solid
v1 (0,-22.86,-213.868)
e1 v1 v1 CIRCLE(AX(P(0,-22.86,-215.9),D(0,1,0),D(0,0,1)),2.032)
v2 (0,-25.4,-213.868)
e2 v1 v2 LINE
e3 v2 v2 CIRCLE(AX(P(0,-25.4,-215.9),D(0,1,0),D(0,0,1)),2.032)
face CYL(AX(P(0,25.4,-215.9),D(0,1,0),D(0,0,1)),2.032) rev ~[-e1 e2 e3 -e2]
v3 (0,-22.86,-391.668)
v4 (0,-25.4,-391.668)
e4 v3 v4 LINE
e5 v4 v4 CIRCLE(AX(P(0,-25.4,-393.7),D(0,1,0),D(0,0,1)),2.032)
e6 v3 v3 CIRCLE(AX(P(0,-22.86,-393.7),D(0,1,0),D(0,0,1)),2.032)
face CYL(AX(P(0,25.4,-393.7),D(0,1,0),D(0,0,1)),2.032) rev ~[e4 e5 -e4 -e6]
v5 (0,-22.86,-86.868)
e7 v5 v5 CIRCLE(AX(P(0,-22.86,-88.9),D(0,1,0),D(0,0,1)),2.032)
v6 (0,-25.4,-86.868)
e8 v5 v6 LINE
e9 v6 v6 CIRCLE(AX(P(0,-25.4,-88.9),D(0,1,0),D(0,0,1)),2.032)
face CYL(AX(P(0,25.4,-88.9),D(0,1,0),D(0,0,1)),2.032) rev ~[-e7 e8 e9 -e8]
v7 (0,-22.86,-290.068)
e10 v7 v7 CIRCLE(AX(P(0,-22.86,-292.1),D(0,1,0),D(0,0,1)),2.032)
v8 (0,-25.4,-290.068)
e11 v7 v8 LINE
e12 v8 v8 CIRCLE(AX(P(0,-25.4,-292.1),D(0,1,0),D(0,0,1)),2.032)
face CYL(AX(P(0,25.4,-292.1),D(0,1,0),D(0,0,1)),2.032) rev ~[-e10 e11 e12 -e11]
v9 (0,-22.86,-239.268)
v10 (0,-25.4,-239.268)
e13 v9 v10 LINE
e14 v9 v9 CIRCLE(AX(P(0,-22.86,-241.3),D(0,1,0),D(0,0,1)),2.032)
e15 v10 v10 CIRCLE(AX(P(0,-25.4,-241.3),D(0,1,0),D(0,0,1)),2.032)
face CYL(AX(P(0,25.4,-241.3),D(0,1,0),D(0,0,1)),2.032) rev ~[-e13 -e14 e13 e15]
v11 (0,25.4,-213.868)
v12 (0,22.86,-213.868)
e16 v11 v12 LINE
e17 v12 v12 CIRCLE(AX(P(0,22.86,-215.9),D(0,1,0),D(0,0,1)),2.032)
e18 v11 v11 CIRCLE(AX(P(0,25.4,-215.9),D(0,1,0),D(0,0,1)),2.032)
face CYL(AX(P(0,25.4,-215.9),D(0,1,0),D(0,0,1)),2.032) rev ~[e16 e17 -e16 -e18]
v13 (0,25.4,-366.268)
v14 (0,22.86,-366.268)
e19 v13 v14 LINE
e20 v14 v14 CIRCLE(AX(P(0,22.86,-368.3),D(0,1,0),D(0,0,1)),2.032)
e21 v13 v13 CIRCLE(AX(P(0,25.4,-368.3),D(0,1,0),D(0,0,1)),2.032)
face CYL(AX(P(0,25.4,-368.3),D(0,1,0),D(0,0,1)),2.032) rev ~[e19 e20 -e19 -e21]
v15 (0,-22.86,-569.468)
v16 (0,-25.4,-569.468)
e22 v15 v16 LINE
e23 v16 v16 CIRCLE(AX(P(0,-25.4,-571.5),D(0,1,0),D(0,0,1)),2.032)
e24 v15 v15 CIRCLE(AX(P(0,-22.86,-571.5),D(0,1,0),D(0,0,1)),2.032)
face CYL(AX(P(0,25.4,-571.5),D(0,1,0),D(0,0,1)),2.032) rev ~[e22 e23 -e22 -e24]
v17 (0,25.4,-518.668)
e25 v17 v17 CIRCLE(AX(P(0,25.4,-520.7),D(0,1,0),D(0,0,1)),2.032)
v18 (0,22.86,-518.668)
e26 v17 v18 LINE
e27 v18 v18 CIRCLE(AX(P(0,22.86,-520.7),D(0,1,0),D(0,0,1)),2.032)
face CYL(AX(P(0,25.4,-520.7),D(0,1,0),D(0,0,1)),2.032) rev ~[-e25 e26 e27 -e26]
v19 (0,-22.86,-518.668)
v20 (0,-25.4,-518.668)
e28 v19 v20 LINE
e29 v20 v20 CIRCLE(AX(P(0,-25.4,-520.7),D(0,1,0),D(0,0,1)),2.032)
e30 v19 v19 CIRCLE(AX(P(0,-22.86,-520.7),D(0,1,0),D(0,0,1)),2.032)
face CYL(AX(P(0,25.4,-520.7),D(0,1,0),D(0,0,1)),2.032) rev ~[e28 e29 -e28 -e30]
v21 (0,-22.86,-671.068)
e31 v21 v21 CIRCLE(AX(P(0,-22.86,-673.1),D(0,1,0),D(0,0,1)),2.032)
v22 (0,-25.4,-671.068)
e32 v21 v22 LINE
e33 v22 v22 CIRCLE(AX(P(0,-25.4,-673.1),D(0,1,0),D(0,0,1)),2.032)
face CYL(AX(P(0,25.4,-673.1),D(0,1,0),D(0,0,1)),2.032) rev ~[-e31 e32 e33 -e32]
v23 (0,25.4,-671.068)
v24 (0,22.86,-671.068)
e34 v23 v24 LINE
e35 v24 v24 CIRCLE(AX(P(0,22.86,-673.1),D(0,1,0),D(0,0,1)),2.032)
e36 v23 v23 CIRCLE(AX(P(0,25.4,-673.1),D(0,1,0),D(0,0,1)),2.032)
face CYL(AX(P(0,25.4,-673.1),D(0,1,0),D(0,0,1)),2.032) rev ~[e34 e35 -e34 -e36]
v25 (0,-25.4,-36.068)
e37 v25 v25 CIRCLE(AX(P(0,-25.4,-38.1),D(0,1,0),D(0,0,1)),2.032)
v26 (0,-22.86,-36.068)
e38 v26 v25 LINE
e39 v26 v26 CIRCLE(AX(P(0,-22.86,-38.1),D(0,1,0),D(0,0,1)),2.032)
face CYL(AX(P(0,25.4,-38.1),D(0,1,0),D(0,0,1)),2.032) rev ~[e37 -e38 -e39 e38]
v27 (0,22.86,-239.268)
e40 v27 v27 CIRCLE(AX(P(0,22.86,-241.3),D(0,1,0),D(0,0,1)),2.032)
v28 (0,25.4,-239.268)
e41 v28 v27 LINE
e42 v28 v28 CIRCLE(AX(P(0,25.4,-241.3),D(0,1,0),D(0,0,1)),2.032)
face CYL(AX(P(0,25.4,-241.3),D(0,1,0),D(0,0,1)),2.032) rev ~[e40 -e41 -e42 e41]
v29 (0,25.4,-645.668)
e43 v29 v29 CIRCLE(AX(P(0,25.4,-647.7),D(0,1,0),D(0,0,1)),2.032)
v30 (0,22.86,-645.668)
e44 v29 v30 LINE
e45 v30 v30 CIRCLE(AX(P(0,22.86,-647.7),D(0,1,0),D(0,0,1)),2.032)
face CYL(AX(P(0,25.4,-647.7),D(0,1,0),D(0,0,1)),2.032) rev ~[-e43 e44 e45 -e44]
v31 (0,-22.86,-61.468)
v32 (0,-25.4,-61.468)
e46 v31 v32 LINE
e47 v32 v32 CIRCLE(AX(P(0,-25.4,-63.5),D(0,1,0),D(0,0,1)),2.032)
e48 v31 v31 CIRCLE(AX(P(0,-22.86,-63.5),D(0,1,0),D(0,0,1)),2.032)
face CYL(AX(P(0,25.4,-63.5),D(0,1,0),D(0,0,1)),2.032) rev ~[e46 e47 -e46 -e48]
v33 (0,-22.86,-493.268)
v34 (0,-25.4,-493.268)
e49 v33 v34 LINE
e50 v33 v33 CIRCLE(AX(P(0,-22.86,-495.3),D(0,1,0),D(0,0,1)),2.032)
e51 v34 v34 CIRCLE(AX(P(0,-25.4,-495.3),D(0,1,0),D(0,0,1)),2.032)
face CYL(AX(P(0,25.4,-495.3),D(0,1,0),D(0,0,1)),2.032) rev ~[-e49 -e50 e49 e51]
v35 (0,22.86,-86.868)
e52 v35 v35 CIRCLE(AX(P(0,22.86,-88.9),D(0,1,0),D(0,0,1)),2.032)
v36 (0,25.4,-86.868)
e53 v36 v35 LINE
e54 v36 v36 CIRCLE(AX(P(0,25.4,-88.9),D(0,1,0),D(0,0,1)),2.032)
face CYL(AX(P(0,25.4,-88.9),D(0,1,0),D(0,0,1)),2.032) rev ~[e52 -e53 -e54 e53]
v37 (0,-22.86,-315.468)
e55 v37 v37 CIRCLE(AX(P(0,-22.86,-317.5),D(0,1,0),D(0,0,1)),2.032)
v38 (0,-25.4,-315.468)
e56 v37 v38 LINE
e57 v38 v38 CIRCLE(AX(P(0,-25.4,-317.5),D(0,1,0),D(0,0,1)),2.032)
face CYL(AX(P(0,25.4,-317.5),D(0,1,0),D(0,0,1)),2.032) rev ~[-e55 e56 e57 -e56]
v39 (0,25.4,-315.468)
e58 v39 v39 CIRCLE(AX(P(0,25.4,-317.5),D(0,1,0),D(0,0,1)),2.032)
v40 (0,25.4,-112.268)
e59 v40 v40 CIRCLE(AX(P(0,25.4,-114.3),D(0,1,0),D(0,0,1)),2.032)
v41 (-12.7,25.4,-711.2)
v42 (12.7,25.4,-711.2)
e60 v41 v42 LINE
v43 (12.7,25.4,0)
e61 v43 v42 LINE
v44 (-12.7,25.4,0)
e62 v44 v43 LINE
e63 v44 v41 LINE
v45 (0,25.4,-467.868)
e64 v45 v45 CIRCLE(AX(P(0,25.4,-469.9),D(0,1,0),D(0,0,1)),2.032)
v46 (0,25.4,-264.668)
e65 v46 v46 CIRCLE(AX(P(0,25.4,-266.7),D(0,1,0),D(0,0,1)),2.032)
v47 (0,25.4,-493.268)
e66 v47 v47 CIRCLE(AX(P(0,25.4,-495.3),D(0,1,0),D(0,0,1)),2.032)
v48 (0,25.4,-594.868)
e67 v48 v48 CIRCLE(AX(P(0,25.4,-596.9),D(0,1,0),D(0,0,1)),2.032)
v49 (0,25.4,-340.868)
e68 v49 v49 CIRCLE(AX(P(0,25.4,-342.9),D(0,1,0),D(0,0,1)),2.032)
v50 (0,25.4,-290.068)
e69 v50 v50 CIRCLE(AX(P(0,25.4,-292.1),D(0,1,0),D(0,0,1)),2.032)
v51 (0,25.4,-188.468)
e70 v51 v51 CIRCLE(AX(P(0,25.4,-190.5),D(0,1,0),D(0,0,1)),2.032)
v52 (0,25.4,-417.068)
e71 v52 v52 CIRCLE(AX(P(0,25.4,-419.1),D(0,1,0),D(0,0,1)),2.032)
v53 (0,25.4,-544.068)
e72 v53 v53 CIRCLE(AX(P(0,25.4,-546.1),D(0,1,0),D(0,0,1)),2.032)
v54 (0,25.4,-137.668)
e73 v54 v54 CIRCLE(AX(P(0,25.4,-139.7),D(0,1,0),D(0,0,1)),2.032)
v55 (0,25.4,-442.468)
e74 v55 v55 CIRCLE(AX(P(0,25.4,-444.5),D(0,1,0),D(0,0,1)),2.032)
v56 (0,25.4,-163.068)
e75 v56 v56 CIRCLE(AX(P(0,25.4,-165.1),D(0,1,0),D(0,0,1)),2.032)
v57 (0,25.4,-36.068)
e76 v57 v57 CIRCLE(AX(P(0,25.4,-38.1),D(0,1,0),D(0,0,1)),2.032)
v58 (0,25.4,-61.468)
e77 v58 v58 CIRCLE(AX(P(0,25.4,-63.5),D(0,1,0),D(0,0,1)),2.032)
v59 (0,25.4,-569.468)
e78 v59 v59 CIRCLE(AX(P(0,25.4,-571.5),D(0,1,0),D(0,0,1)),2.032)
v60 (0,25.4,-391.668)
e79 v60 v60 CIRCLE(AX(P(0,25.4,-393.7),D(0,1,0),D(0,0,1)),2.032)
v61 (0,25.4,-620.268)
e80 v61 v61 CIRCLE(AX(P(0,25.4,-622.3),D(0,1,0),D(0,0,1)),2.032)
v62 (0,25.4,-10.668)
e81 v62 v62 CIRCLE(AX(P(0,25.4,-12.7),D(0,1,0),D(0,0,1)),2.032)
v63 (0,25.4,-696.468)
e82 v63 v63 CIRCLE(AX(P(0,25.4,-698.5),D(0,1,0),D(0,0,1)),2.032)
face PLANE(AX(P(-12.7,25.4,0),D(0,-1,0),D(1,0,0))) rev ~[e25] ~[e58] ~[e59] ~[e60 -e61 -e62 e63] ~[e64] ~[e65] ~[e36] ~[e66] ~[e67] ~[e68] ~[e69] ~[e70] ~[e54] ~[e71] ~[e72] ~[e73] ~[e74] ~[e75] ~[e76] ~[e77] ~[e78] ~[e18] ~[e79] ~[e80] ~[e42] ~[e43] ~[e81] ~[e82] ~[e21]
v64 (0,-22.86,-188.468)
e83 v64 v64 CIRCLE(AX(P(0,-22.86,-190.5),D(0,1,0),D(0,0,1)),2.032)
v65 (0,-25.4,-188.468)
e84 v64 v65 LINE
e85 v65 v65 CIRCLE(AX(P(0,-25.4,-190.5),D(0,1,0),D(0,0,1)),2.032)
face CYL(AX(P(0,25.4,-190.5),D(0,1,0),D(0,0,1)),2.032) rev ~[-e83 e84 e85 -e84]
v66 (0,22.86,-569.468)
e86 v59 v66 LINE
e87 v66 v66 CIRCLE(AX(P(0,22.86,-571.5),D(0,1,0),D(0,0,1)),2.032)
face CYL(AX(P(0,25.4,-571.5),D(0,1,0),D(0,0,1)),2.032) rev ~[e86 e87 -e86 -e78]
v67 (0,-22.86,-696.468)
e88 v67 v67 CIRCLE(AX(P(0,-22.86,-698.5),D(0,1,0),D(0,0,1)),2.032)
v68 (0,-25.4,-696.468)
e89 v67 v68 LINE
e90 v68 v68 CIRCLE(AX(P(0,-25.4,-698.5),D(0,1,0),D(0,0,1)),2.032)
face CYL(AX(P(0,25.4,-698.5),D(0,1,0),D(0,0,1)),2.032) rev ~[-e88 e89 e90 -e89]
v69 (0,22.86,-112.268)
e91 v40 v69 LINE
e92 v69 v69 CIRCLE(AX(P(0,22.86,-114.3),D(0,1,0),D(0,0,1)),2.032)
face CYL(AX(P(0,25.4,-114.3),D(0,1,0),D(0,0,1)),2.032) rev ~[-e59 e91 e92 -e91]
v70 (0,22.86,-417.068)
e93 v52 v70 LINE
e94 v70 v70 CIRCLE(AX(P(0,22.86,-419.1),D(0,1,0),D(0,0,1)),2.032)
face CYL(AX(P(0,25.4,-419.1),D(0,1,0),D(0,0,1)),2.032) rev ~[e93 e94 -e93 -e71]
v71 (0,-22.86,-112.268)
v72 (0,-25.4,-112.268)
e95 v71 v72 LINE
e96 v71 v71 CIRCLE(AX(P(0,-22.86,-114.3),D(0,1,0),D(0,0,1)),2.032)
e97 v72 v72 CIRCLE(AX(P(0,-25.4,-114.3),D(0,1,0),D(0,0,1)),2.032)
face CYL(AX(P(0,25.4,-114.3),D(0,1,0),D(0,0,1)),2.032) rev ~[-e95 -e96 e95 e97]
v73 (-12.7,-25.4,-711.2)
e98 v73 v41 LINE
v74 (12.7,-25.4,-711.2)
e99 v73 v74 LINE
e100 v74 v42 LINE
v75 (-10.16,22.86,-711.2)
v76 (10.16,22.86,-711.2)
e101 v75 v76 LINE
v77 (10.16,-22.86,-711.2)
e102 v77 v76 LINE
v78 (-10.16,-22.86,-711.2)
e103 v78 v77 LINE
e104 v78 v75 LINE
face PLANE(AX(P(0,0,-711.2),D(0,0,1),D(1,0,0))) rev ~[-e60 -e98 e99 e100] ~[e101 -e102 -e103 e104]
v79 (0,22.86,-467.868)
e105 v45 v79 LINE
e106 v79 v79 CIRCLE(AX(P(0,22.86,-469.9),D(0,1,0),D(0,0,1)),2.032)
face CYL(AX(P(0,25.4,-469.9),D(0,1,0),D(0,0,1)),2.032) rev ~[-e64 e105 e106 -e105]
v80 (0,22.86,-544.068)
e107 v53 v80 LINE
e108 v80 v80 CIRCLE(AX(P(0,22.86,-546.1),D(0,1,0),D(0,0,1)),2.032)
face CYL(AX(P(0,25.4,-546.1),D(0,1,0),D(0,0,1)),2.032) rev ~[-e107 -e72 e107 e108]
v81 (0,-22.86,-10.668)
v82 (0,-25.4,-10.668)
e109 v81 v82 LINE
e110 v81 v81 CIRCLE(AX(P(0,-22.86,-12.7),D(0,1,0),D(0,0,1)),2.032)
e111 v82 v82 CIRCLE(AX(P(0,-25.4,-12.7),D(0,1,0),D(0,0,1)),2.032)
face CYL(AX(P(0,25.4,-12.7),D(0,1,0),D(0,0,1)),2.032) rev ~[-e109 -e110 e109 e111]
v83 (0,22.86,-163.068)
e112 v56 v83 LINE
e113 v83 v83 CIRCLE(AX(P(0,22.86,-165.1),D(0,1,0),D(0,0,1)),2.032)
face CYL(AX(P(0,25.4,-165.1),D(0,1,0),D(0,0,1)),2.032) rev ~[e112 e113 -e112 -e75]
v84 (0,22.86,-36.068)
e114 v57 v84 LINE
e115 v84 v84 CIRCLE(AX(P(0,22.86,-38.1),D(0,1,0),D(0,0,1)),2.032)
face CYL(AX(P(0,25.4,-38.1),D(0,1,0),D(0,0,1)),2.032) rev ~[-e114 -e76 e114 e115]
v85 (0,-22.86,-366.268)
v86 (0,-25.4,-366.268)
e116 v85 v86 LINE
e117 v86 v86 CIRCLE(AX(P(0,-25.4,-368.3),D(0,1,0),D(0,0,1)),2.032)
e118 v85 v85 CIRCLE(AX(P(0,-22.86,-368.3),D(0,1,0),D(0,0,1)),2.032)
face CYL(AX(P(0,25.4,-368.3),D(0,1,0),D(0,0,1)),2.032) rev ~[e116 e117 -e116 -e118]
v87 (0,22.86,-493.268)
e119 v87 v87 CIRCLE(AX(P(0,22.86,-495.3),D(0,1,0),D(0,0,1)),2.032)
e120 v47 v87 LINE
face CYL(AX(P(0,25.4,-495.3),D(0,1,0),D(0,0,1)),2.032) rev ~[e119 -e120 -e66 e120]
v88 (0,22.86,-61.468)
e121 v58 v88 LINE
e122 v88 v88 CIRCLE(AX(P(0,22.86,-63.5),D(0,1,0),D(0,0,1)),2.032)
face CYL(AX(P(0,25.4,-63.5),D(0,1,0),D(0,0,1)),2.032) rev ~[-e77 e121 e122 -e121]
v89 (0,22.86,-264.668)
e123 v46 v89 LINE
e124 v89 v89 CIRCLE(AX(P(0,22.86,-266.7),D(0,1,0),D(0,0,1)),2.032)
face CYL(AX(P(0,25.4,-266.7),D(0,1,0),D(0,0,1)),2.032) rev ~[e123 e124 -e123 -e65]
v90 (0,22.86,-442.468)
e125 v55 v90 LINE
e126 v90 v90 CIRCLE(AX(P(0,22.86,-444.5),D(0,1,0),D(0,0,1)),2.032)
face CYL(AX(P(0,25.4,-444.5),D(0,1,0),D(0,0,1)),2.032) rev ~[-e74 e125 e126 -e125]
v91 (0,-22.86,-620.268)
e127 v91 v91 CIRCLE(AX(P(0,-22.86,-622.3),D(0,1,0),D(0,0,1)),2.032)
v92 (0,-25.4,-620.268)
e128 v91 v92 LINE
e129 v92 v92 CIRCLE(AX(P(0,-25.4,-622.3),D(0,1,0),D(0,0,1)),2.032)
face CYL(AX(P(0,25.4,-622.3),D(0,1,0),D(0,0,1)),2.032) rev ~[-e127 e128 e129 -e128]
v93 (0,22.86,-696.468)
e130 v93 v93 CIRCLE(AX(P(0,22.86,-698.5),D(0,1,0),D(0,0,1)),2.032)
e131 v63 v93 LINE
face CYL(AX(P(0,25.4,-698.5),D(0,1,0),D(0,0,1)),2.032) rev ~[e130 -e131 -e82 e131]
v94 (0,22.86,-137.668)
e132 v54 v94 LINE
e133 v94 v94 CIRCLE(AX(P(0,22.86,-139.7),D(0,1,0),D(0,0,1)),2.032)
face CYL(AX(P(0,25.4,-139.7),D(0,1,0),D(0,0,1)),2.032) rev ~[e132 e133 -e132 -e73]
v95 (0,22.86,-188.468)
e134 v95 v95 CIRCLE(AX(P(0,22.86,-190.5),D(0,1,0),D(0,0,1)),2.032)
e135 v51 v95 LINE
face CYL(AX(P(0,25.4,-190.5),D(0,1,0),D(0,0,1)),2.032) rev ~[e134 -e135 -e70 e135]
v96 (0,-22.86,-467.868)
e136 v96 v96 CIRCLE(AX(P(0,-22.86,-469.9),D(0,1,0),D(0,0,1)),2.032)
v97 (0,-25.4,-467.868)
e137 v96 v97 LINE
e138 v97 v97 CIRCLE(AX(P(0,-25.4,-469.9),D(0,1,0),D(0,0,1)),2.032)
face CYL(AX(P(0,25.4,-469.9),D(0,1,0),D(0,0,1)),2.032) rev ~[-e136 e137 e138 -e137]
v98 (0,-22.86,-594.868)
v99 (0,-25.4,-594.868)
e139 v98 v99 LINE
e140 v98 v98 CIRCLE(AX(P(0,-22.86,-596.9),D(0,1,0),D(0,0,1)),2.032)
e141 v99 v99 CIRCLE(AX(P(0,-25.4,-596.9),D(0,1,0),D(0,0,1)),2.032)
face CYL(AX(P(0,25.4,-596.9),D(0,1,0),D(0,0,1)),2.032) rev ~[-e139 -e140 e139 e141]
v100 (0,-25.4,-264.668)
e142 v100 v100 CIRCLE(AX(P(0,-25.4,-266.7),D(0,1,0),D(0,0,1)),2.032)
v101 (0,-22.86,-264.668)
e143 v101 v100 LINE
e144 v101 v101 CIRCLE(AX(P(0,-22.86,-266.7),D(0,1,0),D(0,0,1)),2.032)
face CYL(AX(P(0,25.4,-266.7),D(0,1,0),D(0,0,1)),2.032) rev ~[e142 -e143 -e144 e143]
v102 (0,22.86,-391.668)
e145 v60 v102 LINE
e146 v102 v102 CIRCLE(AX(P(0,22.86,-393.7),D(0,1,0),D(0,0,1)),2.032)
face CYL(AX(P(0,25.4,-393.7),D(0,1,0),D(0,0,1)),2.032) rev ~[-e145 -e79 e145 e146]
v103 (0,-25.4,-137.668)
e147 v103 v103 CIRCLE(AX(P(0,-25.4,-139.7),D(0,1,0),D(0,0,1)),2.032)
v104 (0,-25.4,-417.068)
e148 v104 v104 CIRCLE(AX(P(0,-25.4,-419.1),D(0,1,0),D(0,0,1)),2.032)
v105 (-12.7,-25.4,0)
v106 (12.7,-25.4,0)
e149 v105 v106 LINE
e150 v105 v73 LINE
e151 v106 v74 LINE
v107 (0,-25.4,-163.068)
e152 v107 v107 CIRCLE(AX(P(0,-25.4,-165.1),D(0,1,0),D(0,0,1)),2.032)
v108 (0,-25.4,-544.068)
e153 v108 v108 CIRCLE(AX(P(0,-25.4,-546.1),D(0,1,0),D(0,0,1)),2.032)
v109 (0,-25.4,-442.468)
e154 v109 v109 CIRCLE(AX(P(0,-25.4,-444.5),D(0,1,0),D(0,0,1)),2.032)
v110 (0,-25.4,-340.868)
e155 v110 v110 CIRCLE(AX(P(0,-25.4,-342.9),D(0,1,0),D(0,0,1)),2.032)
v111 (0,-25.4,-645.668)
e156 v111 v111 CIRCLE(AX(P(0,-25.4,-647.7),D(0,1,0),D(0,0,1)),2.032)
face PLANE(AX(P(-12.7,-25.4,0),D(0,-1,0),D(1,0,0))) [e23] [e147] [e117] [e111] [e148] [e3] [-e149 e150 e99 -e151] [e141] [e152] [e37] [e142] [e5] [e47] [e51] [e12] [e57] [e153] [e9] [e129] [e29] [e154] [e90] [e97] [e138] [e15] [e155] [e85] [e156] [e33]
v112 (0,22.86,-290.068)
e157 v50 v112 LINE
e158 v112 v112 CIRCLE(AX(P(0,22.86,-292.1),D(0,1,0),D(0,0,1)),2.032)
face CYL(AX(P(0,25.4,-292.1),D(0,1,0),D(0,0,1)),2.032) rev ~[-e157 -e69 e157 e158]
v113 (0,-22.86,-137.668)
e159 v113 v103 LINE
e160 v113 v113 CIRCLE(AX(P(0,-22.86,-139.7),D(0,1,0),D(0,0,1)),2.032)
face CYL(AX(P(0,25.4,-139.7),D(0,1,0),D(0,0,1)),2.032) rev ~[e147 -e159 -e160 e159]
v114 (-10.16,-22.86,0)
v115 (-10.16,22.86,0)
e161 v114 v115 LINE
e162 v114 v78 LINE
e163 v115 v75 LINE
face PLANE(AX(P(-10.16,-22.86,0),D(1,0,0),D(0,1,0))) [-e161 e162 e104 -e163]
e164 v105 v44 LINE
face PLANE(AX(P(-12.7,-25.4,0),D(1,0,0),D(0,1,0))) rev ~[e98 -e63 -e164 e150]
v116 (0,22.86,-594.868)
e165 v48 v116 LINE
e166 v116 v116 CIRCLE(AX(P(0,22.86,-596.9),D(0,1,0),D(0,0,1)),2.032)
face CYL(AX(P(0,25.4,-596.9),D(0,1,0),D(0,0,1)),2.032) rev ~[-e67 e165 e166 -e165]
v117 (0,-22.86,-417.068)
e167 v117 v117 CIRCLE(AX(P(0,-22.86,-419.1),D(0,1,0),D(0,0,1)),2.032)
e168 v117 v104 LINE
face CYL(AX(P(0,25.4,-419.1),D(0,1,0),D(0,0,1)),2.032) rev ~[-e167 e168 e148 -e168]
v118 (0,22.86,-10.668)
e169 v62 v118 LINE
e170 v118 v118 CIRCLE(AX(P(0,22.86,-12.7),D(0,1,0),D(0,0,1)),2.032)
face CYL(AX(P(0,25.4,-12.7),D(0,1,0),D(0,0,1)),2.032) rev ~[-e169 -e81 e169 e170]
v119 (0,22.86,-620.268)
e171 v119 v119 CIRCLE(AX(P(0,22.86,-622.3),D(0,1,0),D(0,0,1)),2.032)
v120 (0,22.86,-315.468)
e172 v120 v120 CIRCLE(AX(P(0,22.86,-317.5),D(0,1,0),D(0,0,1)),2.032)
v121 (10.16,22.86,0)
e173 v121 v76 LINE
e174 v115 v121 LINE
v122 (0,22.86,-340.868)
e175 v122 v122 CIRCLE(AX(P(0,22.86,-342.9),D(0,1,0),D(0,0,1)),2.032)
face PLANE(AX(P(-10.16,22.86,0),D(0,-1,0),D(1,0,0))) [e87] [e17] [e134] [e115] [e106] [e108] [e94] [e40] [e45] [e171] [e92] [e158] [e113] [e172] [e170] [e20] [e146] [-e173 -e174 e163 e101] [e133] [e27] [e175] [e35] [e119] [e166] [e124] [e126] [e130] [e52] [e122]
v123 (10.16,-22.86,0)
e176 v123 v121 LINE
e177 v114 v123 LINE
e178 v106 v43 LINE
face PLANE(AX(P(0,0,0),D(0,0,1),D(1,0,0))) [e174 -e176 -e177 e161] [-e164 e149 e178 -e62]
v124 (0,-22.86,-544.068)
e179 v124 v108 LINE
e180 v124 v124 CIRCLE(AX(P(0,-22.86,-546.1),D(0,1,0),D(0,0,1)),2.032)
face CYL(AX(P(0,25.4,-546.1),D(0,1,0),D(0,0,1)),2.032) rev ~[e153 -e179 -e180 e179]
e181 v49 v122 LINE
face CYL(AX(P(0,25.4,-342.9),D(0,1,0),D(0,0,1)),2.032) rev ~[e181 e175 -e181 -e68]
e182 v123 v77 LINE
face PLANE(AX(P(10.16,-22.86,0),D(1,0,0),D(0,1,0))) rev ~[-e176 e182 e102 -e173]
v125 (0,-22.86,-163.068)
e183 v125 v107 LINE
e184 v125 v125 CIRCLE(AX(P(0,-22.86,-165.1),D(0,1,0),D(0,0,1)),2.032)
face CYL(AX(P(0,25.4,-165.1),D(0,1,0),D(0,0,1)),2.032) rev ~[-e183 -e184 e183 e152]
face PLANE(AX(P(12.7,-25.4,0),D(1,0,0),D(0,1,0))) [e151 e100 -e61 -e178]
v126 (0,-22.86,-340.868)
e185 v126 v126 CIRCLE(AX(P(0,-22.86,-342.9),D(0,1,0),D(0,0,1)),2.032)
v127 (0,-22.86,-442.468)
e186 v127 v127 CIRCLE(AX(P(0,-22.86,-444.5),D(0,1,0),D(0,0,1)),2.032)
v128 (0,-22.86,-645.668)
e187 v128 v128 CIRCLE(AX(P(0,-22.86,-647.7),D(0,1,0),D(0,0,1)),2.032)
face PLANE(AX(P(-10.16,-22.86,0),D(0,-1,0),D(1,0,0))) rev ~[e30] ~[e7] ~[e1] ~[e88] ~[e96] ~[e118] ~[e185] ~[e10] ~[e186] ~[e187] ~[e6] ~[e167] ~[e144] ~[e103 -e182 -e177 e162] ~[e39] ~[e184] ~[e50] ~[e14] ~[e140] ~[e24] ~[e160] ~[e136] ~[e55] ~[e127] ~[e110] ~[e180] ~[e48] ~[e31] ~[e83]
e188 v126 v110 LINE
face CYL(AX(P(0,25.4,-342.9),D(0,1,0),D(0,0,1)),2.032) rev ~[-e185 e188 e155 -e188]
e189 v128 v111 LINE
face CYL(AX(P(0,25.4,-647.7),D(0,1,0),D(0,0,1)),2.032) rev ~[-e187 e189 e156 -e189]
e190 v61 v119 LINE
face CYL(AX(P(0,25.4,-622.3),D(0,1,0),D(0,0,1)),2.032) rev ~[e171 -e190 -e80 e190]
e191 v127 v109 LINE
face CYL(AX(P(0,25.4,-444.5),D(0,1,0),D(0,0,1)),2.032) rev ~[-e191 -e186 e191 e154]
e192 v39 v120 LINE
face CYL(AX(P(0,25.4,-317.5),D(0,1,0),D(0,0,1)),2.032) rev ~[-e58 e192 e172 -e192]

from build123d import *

# Parameters (mm, degrees)
SKETCH1_W           = 25.4
SKETCH1_H           = 50.8
SKETCH1_W_2         = 20.32
SKETCH1_H_2         = 45.72
BOSS_EXTRUDE1_DEPTH = 711.2
SKETCH2_R           = 2.032
CUT_EXTRUDE1_DEPTH  = 714.125073181


with BuildPart() as part:
    # Sketch1 → Boss-Extrude1 (new body)
    with BuildSketch(Plane.XY):
        Rectangle(SKETCH1_W, SKETCH1_H)
        Rectangle(SKETCH1_W_2, SKETCH1_H_2, mode=Mode.SUBTRACT)
    extrude(amount=-BOSS_EXTRUDE1_DEPTH)

    # Sketch2 → Cut-Extrude1 (cut, through all)
    with BuildSketch(Plane(origin=(0, 25.4, 0), x_dir=(1, 0, 0), z_dir=(0, 1, 0))):
        with Locations(Location((0, 12.7, 0), (0, 0, 270))):
            Circle(SKETCH2_R)
        with Locations(Location((0, 38.1, 0), (0, 0, 270))):
            Circle(SKETCH2_R)
        with Locations(Location((0, 63.5, 0), (0, 0, 270))):
            Circle(SKETCH2_R)
        with Locations(Location((0, 88.9, 0), (0, 0, 270))):
            Circle(SKETCH2_R)
        with Locations(Location((0, 114.3, 0), (0, 0, 270))):
            Circle(SKETCH2_R)
        with Locations(Location((0, 139.7, 0), (0, 0, 270))):
            Circle(SKETCH2_R)
        with Locations(Location((0, 165.1, 0), (0, 0, 270))):
            Circle(SKETCH2_R)
        with Locations(Location((0, 190.5, 0), (0, 0, 270))):
            Circle(SKETCH2_R)
        with Locations(Location((0, 215.9, 0), (0, 0, 270))):
            Circle(SKETCH2_R)
        with Locations(Location((0, 241.3, 0), (0, 0, 270))):
            Circle(SKETCH2_R)
        with Locations(Location((0, 266.7, 0), (0, 0, 270))):
            Circle(SKETCH2_R)
        with Locations(Location((0, 292.1, 0), (0, 0, 270))):
            Circle(SKETCH2_R)
        with Locations(Location((0, 317.5, 0), (0, 0, 270))):
            Circle(SKETCH2_R)
        with Locations(Location((0, 342.9, 0), (0, 0, 270))):
            Circle(SKETCH2_R)
        with Locations(Location((0, 368.3, 0), (0, 0, 270))):
            Circle(SKETCH2_R)
        with Locations(Location((0, 393.7, 0), (0, 0, 270))):
            Circle(SKETCH2_R)
        with Locations(Location((0, 419.1, 0), (0, 0, 270))):
            Circle(SKETCH2_R)
        with Locations(Location((0, 444.5, 0), (0, 0, 270))):
            Circle(SKETCH2_R)
        with Locations(Location((0, 469.9, 0), (0, 0, 270))):
            Circle(SKETCH2_R)
        with Locations(Location((0, 495.3, 0), (0, 0, 270))):
            Circle(SKETCH2_R)
        with Locations(Location((0, 520.7, 0), (0, 0, 270))):
            Circle(SKETCH2_R)
        with Locations(Location((0, 546.1, 0), (0, 0, 270))):
            Circle(SKETCH2_R)
        with Locations(Location((0, 571.5, 0), (0, 0, 270))):
            Circle(SKETCH2_R)
        with Locations(Location((0, 596.9, 0), (0, 0, 270))):
            Circle(SKETCH2_R)
        with Locations(Location((0, 622.3, 0), (0, 0, 270))):
            Circle(SKETCH2_R)
        with Locations(Location((0, 647.7, 0), (0, 0, 270))):
            Circle(SKETCH2_R)
        with Locations(Location((0, 673.1, 0), (0, 0, 270))):
            Circle(SKETCH2_R)
        with Locations(Location((0, 698.5, 0), (0, 0, 270))):
            Circle(SKETCH2_R)
        with Locations((0, 723.9)):
            Circle(SKETCH2_R)
        with Locations((0, 749.3)):
            Circle(SKETCH2_R)
    extrude(amount=-CUT_EXTRUDE1_DEPTH, mode=Mode.SUBTRACT)


solid = part.part
